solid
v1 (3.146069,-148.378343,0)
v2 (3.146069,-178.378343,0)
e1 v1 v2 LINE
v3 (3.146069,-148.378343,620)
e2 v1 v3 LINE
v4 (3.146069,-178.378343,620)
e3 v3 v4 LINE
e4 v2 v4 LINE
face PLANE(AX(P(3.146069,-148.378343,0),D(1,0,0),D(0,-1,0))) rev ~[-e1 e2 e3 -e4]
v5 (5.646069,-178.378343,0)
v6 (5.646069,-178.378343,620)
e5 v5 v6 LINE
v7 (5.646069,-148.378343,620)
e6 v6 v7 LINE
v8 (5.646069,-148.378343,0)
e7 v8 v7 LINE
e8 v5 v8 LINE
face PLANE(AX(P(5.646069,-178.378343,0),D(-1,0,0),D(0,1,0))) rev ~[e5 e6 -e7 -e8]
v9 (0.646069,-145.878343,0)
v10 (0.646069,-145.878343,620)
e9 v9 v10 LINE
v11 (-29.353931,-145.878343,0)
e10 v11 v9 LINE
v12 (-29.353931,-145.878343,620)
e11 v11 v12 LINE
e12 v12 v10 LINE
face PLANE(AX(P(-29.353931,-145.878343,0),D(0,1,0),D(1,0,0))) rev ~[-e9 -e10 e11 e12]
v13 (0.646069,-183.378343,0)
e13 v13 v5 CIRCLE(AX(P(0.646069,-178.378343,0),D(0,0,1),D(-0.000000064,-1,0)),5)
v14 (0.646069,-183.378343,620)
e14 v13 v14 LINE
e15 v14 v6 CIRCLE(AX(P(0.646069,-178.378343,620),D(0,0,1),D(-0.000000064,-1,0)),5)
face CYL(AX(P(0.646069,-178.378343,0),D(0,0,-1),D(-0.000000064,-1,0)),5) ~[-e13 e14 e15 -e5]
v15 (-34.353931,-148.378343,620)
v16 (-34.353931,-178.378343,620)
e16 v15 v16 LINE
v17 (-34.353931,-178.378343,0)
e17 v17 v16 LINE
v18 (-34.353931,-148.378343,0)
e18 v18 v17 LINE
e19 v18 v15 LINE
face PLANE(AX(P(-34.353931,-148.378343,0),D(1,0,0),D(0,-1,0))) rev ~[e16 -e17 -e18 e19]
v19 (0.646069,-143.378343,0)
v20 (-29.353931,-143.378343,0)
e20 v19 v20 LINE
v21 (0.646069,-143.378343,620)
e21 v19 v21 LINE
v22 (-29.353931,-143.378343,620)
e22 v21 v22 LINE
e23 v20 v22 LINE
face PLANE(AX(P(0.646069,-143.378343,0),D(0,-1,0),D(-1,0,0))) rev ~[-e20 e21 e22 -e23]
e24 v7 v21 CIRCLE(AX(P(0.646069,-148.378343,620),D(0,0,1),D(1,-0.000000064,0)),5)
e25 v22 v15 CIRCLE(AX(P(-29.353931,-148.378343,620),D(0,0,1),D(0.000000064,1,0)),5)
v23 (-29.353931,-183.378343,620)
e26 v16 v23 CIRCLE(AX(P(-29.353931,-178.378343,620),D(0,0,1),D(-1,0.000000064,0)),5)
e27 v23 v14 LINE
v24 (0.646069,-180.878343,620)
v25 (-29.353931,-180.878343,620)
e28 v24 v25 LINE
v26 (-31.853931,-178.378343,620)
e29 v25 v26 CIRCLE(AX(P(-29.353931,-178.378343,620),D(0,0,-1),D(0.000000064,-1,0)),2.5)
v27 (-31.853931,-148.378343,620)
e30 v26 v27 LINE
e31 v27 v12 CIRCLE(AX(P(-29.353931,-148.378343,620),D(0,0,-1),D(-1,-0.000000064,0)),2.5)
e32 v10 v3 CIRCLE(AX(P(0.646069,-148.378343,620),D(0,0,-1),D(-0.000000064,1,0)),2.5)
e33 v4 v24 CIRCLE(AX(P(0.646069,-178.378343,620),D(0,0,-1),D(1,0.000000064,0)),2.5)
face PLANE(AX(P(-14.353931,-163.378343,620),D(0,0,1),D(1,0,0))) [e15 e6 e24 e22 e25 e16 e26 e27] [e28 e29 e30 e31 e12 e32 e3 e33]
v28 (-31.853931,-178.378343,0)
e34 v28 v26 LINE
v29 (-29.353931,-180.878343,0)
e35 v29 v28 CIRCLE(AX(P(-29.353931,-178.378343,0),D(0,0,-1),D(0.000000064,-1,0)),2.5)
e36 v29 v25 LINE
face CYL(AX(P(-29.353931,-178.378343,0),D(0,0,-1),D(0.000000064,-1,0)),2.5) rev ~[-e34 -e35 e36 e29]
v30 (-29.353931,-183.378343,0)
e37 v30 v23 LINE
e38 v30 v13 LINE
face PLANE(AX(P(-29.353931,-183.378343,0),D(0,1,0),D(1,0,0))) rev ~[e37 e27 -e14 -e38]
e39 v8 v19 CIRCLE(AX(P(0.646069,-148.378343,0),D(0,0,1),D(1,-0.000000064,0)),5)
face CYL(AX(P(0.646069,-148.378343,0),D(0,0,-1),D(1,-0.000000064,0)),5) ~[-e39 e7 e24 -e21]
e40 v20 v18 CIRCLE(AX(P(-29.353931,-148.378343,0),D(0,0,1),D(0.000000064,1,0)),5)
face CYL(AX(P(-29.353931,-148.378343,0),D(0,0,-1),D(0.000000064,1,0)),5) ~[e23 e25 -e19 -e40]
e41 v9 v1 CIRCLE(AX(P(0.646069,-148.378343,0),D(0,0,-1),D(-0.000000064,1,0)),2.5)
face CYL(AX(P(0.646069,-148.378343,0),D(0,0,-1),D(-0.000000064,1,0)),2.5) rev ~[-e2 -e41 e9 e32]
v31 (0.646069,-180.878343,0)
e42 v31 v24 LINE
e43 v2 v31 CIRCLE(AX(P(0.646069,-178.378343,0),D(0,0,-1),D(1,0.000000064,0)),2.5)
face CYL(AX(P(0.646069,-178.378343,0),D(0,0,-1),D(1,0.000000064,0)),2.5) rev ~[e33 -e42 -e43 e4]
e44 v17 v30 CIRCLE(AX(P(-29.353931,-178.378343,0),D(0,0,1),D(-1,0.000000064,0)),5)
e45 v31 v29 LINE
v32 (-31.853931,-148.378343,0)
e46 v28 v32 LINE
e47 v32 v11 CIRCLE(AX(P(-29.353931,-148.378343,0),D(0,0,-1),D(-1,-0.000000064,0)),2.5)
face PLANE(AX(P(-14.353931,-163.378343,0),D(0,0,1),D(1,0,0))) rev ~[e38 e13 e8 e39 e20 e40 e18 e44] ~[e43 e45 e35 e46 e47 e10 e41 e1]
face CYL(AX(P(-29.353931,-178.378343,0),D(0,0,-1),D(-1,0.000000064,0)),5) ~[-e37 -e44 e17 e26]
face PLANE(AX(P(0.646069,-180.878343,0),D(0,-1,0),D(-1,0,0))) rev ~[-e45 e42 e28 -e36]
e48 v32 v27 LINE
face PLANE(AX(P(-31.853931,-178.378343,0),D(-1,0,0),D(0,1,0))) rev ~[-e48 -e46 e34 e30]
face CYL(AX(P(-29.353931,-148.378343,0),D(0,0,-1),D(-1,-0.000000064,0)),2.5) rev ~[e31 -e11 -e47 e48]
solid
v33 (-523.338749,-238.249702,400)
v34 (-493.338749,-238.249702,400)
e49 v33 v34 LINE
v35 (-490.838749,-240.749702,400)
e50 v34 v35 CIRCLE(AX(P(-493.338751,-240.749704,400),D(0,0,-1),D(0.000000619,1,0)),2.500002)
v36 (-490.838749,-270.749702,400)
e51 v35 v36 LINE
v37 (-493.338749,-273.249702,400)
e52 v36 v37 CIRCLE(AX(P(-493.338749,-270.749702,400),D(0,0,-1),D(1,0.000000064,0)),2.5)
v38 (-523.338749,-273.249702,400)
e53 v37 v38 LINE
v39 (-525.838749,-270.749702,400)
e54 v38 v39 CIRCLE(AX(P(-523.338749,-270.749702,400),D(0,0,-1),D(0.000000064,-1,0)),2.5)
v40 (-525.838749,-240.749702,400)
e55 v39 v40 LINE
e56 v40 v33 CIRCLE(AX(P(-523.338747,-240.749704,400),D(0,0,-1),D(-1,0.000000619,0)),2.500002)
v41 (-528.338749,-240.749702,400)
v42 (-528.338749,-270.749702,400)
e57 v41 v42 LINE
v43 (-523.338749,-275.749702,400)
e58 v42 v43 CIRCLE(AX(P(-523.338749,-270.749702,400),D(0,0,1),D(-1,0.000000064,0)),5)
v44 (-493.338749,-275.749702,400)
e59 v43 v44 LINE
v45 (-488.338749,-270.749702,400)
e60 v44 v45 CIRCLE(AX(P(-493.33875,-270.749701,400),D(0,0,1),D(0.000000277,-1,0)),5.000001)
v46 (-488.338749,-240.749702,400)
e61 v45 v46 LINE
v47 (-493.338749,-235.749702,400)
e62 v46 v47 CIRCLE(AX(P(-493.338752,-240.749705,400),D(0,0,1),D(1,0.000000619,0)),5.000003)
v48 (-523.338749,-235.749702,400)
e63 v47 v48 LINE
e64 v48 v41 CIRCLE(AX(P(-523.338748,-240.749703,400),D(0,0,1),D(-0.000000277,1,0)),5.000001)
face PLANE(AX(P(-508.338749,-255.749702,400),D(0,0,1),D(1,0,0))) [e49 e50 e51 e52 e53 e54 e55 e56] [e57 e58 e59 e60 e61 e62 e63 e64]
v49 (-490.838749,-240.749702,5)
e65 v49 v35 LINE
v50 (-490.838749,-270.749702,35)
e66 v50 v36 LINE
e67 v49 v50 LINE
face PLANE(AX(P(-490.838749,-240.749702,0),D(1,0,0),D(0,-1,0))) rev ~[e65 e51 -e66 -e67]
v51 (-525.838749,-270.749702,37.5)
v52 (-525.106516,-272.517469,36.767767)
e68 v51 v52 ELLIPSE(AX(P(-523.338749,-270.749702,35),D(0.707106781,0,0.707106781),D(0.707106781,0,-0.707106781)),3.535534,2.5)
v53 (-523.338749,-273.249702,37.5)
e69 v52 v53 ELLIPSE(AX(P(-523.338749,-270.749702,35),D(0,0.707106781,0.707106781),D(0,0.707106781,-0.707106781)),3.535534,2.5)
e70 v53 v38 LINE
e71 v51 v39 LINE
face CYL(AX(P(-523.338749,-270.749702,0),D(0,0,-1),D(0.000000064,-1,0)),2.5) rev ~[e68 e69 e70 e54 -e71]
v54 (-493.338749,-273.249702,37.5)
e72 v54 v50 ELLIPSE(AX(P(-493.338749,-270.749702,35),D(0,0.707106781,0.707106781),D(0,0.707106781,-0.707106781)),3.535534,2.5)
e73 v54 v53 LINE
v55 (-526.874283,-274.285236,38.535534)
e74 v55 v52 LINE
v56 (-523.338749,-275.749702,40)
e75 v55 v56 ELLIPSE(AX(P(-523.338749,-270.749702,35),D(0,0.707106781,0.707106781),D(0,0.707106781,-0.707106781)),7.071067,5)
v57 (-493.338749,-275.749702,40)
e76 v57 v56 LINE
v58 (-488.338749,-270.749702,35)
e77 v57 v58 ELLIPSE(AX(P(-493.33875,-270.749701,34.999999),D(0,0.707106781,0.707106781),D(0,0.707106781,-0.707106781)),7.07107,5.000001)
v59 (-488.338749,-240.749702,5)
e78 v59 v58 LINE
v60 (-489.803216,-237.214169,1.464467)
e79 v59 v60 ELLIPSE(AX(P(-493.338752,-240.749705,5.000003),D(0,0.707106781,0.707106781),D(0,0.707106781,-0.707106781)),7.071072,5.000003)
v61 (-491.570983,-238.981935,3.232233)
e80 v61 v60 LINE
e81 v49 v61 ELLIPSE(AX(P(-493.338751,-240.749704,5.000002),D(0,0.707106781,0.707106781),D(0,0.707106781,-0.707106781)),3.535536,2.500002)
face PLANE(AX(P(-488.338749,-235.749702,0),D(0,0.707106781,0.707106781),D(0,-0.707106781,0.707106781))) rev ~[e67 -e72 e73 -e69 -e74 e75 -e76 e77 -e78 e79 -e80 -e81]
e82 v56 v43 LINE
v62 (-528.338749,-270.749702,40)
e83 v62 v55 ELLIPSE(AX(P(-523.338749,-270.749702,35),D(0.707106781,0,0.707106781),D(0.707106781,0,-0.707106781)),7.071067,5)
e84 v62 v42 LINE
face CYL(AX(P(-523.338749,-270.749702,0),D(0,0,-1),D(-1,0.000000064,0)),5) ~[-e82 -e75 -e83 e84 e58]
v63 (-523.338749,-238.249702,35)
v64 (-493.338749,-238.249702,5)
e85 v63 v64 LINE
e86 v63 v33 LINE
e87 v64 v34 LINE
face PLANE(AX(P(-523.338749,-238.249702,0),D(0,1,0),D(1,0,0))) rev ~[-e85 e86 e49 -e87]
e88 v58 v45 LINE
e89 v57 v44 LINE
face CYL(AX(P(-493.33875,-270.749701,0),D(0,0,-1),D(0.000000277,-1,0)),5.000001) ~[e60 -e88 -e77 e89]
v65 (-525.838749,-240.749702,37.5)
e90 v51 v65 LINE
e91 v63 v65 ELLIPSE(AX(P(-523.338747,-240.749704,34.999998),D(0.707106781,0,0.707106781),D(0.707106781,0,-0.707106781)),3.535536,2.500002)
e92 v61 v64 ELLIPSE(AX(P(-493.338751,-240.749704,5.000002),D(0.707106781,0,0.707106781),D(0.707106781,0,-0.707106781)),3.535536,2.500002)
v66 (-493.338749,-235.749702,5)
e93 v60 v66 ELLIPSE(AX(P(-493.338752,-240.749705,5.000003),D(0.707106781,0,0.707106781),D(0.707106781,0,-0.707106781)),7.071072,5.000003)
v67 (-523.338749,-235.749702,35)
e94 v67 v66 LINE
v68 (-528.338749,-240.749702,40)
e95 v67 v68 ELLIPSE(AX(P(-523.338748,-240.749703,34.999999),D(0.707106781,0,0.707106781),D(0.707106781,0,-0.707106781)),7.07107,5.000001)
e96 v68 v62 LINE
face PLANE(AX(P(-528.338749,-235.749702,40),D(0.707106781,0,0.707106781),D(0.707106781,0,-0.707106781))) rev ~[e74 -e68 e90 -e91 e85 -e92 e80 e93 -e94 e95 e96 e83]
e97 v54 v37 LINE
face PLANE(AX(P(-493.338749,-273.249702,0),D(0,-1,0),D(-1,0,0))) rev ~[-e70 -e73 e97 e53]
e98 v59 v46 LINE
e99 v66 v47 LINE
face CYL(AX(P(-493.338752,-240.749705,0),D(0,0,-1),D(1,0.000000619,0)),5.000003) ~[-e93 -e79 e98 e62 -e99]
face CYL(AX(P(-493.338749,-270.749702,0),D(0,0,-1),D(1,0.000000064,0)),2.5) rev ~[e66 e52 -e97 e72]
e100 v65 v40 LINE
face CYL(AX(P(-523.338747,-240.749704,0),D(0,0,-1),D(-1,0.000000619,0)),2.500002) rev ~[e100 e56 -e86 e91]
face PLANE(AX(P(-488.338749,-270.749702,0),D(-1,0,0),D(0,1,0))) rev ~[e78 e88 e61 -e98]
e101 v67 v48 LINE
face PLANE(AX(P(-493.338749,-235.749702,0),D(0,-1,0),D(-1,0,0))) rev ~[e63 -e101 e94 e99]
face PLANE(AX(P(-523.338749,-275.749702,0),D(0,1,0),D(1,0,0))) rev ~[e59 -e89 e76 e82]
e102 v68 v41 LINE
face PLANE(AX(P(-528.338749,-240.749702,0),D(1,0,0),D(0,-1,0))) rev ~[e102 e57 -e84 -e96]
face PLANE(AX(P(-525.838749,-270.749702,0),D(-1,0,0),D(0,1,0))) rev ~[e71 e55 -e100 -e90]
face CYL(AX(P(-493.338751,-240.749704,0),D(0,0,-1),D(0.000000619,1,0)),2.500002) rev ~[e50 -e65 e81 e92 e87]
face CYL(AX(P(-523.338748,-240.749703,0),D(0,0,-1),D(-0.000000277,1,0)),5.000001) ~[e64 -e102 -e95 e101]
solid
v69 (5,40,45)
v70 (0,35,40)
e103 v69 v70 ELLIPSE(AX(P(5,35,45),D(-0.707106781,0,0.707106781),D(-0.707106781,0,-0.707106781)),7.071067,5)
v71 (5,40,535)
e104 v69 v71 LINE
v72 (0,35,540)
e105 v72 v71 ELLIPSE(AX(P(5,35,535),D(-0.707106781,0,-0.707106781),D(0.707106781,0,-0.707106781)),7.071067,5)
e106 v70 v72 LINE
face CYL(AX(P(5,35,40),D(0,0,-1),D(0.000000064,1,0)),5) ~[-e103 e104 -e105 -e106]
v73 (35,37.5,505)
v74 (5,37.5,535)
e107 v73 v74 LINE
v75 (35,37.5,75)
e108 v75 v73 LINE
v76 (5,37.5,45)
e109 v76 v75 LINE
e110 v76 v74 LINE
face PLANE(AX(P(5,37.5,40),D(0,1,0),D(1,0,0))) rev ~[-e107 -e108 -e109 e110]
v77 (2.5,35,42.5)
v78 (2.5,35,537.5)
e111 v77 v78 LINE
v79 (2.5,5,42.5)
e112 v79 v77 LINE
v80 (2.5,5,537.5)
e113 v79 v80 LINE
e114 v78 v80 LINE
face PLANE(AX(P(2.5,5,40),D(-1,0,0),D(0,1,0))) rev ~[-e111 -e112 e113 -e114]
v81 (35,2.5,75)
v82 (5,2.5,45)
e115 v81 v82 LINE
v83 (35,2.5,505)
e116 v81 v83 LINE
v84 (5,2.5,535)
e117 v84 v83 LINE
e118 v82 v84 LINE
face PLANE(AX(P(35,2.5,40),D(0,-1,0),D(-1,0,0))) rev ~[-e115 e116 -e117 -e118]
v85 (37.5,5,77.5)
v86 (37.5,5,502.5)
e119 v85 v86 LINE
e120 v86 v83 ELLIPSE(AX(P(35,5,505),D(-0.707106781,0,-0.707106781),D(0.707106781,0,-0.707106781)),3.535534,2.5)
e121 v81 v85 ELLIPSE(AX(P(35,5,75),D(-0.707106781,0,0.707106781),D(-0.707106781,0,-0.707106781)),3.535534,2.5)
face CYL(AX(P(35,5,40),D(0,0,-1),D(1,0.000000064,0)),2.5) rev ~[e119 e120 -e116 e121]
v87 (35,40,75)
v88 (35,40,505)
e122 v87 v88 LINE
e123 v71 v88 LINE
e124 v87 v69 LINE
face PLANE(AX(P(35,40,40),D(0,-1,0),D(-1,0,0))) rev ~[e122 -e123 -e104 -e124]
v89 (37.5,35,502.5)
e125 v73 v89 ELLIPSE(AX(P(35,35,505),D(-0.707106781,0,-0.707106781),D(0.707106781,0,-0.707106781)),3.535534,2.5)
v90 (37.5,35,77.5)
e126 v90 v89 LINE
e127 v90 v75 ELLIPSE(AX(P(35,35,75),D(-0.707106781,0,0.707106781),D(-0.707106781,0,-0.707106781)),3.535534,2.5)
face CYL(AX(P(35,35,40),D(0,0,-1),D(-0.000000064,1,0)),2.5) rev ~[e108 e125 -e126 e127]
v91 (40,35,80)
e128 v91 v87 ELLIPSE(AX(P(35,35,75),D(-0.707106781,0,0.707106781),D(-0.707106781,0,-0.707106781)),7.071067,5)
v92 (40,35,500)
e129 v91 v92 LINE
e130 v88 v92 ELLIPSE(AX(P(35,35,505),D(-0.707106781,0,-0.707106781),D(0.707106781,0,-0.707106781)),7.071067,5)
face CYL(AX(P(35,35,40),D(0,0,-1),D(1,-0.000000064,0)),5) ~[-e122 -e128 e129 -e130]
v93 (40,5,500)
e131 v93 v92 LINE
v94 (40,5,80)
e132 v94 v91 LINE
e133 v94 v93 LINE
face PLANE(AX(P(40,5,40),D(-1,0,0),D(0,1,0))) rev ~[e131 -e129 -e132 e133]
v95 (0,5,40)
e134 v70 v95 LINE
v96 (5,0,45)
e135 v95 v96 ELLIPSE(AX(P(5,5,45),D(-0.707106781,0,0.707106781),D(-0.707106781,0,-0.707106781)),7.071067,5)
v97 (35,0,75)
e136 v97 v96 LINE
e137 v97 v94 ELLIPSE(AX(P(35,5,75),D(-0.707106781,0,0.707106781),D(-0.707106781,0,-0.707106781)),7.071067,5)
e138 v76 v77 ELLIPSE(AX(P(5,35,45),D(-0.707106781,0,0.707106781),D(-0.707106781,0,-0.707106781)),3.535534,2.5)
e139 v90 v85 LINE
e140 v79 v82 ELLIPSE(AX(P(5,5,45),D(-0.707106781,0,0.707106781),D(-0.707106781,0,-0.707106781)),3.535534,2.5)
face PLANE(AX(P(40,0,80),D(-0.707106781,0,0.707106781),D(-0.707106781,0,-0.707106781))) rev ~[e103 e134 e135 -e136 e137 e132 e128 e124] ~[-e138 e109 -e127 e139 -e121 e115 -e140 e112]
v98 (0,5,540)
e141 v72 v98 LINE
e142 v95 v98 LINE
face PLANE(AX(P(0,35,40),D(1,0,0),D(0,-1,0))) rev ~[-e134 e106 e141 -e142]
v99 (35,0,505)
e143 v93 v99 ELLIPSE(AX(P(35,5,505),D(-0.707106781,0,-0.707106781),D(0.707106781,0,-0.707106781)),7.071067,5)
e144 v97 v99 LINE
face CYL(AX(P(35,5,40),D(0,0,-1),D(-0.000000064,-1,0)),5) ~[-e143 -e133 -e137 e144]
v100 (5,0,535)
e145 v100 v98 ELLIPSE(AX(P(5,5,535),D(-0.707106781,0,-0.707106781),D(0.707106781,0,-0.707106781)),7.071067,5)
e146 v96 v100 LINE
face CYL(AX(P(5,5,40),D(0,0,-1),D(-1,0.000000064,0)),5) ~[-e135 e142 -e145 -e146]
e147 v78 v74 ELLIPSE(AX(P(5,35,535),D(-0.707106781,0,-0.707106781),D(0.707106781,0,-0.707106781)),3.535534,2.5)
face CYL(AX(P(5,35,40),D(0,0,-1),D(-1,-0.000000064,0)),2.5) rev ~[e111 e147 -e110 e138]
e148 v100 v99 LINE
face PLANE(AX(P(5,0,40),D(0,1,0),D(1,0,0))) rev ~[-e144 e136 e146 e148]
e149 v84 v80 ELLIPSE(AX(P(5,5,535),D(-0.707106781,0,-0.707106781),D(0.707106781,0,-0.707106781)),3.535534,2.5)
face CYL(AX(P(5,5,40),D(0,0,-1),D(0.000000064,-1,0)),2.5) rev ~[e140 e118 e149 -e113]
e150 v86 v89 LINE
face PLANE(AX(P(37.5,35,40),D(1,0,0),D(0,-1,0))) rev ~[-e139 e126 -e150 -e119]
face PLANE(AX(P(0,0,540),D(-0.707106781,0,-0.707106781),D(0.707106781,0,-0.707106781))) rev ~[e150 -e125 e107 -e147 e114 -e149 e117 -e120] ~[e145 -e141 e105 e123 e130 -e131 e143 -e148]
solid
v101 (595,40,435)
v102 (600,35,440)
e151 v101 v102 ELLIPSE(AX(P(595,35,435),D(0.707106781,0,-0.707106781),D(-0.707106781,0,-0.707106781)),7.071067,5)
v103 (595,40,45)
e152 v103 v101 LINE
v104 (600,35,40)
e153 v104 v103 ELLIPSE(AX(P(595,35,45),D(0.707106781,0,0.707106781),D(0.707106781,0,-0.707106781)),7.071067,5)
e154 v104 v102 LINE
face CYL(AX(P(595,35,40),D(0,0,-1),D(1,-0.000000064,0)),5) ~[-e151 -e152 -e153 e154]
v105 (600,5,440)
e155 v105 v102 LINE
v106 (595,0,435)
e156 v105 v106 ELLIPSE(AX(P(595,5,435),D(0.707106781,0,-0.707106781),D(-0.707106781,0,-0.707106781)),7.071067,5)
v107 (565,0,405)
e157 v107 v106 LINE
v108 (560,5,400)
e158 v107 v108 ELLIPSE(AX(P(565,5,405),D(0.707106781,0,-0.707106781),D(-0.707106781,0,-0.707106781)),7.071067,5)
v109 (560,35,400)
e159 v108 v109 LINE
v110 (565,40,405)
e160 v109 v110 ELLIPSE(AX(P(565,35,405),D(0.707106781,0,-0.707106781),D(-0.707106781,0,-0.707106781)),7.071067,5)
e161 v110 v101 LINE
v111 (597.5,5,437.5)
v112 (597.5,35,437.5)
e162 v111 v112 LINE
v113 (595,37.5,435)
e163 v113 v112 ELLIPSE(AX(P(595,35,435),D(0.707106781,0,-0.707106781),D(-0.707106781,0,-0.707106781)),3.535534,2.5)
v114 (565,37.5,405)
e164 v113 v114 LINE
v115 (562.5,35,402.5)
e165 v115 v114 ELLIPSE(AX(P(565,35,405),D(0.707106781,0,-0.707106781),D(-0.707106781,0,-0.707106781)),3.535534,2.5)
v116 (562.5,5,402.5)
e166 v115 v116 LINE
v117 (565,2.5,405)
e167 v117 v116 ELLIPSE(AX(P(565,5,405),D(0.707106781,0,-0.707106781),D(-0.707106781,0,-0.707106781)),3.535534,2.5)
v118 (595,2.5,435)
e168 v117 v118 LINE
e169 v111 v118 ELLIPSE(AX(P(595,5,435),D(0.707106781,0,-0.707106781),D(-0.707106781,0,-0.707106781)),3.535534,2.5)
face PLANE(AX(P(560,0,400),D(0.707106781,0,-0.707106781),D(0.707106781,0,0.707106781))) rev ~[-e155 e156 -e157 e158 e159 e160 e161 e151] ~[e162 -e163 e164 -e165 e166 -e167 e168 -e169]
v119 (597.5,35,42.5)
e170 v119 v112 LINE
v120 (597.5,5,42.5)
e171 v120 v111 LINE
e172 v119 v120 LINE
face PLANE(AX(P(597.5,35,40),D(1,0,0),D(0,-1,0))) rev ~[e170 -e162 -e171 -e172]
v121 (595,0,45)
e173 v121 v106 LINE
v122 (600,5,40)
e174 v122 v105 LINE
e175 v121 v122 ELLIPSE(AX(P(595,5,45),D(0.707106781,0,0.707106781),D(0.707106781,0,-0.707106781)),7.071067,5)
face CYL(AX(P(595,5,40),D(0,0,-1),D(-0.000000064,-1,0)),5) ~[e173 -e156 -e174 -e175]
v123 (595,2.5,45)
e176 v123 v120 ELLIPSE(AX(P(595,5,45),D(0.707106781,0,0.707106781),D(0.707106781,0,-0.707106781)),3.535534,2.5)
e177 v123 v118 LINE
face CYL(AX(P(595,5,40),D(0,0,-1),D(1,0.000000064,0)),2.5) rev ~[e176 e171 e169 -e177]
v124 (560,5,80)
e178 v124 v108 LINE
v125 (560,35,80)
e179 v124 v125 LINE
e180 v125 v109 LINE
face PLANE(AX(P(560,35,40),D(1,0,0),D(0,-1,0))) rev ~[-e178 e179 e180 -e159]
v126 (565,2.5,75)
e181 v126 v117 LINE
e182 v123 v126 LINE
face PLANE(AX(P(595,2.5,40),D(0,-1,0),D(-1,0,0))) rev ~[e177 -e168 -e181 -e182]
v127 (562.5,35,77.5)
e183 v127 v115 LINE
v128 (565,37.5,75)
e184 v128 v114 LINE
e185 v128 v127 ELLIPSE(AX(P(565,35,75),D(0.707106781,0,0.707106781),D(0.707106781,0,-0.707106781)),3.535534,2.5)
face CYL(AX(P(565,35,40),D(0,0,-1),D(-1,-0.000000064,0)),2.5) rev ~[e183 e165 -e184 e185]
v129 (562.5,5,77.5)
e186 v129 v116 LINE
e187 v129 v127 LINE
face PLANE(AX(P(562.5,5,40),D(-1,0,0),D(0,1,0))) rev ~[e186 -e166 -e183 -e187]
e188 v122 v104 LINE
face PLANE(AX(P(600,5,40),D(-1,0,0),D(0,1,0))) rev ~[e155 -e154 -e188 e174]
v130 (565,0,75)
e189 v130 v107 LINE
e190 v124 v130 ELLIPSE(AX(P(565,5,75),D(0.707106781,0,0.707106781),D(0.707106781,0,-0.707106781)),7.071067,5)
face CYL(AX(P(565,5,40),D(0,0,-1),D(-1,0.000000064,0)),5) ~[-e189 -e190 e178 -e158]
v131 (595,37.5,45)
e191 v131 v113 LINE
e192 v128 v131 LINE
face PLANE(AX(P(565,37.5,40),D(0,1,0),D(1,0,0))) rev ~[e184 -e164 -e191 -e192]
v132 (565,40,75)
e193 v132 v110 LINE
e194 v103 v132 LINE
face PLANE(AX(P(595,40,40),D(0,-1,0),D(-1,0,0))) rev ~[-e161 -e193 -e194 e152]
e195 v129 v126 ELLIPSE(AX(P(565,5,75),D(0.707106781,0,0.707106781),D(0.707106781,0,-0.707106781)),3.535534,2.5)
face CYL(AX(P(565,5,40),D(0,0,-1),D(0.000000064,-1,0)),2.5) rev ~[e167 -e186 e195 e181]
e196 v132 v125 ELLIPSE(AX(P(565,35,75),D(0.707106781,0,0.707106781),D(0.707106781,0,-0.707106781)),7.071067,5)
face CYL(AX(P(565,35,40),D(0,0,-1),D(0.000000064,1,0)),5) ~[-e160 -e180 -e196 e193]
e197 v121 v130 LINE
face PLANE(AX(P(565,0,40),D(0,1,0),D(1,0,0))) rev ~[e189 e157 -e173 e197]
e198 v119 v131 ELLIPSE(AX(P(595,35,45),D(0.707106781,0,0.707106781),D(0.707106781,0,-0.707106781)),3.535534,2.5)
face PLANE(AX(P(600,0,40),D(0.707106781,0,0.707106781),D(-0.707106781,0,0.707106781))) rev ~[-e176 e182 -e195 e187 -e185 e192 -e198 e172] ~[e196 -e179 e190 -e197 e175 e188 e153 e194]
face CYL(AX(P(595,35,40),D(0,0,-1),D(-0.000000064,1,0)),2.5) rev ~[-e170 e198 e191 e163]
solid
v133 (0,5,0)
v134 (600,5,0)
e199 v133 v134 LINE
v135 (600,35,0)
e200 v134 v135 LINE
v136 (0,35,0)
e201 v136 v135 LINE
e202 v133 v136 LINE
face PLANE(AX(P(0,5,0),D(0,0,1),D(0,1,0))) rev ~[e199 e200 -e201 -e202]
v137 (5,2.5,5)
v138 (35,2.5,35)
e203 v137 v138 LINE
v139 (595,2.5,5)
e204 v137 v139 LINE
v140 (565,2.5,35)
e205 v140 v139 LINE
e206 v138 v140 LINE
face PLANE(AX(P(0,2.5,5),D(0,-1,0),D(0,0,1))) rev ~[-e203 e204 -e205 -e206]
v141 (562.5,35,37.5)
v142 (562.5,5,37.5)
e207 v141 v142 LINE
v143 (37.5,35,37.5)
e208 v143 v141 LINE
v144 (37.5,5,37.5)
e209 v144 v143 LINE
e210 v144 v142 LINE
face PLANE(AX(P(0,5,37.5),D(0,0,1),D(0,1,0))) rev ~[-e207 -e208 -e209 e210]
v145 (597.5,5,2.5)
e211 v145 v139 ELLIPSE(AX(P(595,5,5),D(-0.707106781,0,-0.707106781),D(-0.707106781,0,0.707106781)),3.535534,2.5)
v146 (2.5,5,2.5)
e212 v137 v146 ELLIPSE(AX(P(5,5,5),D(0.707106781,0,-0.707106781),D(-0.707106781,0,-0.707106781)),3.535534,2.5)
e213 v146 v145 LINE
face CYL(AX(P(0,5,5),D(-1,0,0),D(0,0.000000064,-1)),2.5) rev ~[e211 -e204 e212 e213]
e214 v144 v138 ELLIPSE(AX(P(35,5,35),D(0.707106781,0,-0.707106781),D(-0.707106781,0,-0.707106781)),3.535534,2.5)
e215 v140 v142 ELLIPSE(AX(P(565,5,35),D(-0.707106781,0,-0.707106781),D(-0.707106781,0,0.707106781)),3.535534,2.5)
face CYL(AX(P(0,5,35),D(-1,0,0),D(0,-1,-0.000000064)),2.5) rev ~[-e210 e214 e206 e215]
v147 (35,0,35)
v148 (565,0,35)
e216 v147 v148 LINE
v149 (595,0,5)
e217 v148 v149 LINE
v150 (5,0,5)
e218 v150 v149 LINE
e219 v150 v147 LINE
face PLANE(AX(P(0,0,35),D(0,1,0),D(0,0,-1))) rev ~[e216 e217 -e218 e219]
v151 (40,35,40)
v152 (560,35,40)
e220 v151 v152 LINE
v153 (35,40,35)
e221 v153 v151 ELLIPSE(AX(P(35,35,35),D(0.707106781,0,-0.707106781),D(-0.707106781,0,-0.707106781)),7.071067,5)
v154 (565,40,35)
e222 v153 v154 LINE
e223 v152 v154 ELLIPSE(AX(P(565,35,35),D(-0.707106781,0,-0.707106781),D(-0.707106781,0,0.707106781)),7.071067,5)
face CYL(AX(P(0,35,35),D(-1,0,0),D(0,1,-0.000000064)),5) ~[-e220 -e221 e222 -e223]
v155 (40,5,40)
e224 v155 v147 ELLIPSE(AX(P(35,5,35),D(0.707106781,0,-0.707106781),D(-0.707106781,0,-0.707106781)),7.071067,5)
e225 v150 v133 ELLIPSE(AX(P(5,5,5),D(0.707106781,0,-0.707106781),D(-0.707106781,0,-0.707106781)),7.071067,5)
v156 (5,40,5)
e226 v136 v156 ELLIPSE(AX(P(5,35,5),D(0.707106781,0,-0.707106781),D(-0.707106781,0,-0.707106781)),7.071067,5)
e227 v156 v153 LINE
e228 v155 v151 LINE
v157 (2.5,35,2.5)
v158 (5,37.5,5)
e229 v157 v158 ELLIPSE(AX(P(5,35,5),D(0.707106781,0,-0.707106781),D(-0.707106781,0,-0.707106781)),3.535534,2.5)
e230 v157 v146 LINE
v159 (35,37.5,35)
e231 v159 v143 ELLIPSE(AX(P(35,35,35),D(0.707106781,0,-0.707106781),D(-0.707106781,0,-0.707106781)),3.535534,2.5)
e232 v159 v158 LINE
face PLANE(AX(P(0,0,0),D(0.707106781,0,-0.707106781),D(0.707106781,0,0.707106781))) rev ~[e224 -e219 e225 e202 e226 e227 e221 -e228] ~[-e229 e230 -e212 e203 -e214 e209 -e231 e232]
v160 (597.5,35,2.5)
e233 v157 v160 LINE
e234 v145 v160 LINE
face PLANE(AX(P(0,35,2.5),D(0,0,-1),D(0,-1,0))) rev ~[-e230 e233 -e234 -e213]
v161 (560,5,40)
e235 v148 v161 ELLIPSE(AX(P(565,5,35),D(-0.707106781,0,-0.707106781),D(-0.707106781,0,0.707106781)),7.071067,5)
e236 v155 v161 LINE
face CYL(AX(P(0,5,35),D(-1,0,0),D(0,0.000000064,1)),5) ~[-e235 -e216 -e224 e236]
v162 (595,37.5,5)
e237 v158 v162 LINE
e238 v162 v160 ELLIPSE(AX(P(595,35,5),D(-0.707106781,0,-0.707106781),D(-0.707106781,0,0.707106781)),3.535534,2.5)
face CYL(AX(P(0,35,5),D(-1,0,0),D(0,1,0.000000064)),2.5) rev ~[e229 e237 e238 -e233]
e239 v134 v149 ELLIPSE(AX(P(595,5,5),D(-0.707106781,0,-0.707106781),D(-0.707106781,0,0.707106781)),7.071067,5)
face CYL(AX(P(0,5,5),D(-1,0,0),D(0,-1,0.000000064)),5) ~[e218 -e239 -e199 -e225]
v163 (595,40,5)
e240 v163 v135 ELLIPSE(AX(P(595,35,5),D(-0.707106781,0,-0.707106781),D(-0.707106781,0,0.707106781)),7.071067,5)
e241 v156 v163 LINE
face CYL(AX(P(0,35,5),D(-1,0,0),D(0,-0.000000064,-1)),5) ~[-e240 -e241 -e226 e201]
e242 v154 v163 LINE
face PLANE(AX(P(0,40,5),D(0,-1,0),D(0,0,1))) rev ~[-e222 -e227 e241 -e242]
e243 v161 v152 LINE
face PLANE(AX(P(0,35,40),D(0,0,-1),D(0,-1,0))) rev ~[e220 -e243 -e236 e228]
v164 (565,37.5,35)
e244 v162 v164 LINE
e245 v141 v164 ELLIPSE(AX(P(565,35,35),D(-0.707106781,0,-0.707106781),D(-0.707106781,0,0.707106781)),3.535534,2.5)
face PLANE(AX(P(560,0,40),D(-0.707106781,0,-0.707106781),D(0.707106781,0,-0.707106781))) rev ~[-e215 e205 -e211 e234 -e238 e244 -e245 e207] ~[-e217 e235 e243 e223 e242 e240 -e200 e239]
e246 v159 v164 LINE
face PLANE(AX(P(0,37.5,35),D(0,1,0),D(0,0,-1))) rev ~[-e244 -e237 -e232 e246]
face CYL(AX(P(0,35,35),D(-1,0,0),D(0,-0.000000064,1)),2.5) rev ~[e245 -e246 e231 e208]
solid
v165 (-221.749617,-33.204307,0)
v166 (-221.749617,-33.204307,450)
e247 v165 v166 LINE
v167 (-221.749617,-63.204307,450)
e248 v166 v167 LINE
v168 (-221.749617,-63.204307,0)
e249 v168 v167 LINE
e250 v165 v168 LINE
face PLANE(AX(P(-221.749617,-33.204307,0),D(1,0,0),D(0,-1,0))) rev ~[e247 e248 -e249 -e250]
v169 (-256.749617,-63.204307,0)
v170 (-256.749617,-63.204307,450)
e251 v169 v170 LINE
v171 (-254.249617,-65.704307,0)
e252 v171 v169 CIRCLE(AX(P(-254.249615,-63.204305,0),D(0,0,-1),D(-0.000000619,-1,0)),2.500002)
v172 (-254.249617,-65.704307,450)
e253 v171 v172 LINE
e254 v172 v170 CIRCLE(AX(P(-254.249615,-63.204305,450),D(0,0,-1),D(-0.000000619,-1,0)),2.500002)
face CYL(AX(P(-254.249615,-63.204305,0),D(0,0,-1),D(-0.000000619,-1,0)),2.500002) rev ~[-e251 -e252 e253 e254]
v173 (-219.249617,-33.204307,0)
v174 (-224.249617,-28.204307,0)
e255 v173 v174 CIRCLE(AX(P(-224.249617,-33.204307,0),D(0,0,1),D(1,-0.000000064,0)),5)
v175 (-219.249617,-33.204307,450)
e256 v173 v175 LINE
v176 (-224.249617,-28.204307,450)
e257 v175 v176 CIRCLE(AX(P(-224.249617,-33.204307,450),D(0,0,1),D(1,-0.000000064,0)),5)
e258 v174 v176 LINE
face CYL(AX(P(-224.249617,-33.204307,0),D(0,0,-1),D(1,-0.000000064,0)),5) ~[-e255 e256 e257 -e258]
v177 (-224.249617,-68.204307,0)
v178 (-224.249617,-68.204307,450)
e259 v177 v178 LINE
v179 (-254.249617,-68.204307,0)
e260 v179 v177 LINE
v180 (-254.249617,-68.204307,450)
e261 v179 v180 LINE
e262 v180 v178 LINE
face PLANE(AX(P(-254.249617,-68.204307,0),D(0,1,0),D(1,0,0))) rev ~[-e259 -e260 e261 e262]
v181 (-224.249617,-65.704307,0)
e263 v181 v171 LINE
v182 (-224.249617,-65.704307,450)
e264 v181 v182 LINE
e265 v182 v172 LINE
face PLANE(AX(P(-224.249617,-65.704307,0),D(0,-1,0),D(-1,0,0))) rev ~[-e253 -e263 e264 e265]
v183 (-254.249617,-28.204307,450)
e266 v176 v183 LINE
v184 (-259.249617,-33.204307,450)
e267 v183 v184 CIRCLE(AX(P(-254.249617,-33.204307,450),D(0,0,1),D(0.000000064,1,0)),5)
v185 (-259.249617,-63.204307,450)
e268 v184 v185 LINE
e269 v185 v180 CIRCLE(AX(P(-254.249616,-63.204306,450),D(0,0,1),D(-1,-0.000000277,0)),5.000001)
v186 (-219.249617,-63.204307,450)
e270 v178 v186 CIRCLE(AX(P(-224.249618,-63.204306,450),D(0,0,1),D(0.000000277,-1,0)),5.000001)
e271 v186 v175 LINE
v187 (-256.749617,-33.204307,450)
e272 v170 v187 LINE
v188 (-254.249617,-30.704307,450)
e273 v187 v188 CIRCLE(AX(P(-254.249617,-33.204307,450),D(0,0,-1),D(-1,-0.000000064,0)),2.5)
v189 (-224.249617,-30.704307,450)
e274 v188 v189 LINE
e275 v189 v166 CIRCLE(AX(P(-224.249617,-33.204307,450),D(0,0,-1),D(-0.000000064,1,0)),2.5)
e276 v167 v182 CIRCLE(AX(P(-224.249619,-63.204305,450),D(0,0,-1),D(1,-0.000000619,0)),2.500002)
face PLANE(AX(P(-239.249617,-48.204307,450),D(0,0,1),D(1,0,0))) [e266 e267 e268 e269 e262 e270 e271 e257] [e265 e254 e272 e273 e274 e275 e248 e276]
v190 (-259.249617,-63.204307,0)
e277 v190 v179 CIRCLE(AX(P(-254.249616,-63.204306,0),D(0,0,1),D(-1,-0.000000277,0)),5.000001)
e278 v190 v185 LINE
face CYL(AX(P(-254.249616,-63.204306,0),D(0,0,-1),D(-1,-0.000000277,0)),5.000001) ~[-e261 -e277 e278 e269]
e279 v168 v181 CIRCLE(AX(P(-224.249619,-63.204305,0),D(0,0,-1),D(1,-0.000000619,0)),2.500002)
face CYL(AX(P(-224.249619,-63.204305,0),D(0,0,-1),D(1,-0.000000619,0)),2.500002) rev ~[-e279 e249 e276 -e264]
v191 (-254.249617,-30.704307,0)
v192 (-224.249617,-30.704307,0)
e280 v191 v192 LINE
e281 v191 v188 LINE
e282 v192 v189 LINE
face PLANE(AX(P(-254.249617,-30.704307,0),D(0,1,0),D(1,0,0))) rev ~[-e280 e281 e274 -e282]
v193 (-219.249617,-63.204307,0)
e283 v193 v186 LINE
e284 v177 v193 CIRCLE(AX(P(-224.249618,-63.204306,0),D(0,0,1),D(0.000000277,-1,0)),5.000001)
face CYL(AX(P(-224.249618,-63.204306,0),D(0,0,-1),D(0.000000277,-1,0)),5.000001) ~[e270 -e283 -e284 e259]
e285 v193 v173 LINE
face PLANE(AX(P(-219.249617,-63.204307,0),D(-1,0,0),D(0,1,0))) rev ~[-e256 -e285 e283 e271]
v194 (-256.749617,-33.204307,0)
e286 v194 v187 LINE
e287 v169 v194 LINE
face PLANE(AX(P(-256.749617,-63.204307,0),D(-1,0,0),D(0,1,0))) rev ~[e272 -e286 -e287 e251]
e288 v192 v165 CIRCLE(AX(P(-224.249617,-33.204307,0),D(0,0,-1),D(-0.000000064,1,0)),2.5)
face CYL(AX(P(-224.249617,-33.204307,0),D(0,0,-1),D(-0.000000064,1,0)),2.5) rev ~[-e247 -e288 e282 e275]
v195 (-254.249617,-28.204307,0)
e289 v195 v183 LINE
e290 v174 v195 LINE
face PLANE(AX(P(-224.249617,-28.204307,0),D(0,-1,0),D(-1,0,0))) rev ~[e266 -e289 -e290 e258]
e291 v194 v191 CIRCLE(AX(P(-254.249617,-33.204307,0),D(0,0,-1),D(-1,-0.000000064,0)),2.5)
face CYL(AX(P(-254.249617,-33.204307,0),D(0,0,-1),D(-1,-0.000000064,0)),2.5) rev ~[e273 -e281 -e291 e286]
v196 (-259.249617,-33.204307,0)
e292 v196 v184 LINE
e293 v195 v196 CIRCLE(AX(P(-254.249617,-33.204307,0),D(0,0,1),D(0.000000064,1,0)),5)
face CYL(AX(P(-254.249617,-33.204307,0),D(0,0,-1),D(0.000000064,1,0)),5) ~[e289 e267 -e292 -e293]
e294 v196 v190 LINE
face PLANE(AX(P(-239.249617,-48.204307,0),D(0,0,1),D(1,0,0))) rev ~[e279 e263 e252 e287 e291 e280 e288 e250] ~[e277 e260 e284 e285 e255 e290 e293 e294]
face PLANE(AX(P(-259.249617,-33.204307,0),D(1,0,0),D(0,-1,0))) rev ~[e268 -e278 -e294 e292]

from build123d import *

# Parameters (mm, degrees)
F1_DEPTH  = 600
F3_DEPTH  = 40.001
F5_DEPTH  = 500
F7_DEPTH  = 40.001
F9_DEPTH  = 400
F11_DEPTH = 40.001
F13_DEPTH = 620
F15_DEPTH = 450
F17_DEPTH = 400
F20_DEPTH = 40.001
F21_DEPTH = 40.001


with BuildPart() as f1:
    # F0 (on Right) → F1 (new body)
    with BuildSketch(Plane.YZ):
        with BuildLine():
            ThreePointArc((0, 5), (1.464466, 1.464466), (5, 0))
            Line((5, 0), (35, 0))
            ThreePointArc((35, 0), (38.535534, 1.464466), (40, 5))
            Line((40, 5), (40, 35))
            ThreePointArc((40, 35), (38.535534, 38.535534), (35, 40))
            Line((35, 40), (5, 40))
            ThreePointArc((5, 40), (1.464466, 38.535534), (0, 35))
            Line((0, 35), (0, 5))
        make_face()
        with BuildLine():
            ThreePointArc((37.5, 5), (36.767767, 3.232233), (35, 2.5))
            Line((35, 2.5), (5, 2.5))
            ThreePointArc((5, 2.5), (3.232233, 3.232233), (2.5, 5))
            Line((2.5, 5), (2.5, 35))
            ThreePointArc((2.5, 35), (3.232233, 36.767767), (5, 37.5))
            Line((5, 37.5), (35, 37.5))
            ThreePointArc((35, 37.5), (36.767767, 36.767767), (37.5, 35))
            Line((37.5, 35), (37.5, 5))
        make_face(mode=Mode.SUBTRACT)
    extrude(amount=F1_DEPTH)

    # F2 (on face) → F3 (cut, through all)
    with BuildSketch(Plane.XZ):
        Polygon((0, 40), (0, 0), (40, 40), align=None)
        Polygon((560, 40), (600, 0), (600, 40), align=None)
    extrude(amount=-F3_DEPTH, mode=Mode.SUBTRACT)


with BuildPart() as f5:
    # F4 (on face) → F5 (new body)
    with BuildSketch(Plane.XY.offset(40)):
        with BuildLine():
            ThreePointArc((0, 5), (1.464466, 1.464466), (5, 0))
            Line((5, 0), (35, 0))
            ThreePointArc((35, 0), (38.535534, 1.464466), (40, 5))
            Line((40, 5), (40, 35))
            ThreePointArc((40, 35), (38.535534, 38.535534), (35, 40))
            Line((35, 40), (5, 40))
            ThreePointArc((5, 40), (1.464466, 38.535534), (0, 35))
            Line((0, 35), (0, 5))
        make_face()
        with BuildLine():
            ThreePointArc((37.5, 5), (36.767767, 3.232233), (35, 2.5))
            Line((35, 2.5), (5, 2.5))
            ThreePointArc((5, 2.5), (3.232233, 3.232233), (2.5, 5))
            Line((2.5, 5), (2.5, 35))
            ThreePointArc((2.5, 35), (3.232233, 36.767767), (5, 37.5))
            Line((5, 37.5), (35, 37.5))
            ThreePointArc((35, 37.5), (36.767767, 36.767767), (37.5, 35))
            Line((37.5, 35), (37.5, 5))
        make_face(mode=Mode.SUBTRACT)
    extrude(amount=F5_DEPTH)

    # F6 (on face) → F7 (cut, through all)
    with BuildSketch(Plane.XZ):
        Polygon((40, 80), (0, 40), (40, 40), align=None)
        Polygon((40, 500), (40, 540), (0, 540), align=None)
    extrude(amount=-F7_DEPTH, mode=Mode.SUBTRACT)


with BuildPart() as f9:
    # F8 (on face) → F9 (new body)
    with BuildSketch(Plane.XY.offset(40)):
        with BuildLine():
            ThreePointArc((560, 5), (561.464466, 1.464466), (565, 0))
            Line((565, 0), (595, 0))
            ThreePointArc((595, 0), (598.535534, 1.464466), (600, 5))
            Line((600, 5), (600, 35))
            ThreePointArc((600, 35), (598.535534, 38.535534), (595, 40))
            Line((595, 40), (565, 40))
            ThreePointArc((565, 40), (561.464466, 38.535534), (560, 35))
            Line((560, 35), (560, 5))
        make_face()
        with BuildLine():
            ThreePointArc((597.5, 5), (596.767767, 3.232233), (595, 2.5))
            Line((595, 2.5), (565, 2.5))
            ThreePointArc((565, 2.5), (563.232233, 3.232233), (562.5, 5))
            Line((562.5, 5), (562.5, 35))
            ThreePointArc((562.5, 35), (563.232233, 36.767767), (565, 37.5))
            Line((565, 37.5), (595, 37.5))
            ThreePointArc((595, 37.5), (596.767767, 36.767767), (597.5, 35))
            Line((597.5, 35), (597.5, 5))
        make_face(mode=Mode.SUBTRACT)
    extrude(amount=F9_DEPTH)

    # F10 (on face) → F11 (cut, through all)
    with BuildSketch(Plane.XZ):
        Polygon((560, 400), (600, 440), (560, 440), align=None)
        Polygon((600, 40), (560, 80), (560, 40), align=None)
    extrude(amount=-F11_DEPTH, mode=Mode.SUBTRACT)


with BuildPart() as f13:
    # F12 (on Top) → F13 (new body)
    with BuildSketch(Plane.XY):
        with BuildLine():
            ThreePointArc((-34.353931, -178.378343), (-32.889465, -181.913877), (-29.353931, -183.378343))
            Line((-29.353931, -183.378343), (0.646069, -183.378343))
            ThreePointArc((0.646069, -183.378343), (4.181603, -181.913877), (5.646069, -178.378343))
            Line((5.646069, -178.378343), (5.646069, -148.378343))
            ThreePointArc((5.646069, -148.378343), (4.181603, -144.842809), (0.646069, -143.378343))
            Line((0.646069, -143.378343), (-29.353931, -143.378343))
            ThreePointArc((-29.353931, -143.378343), (-32.889465, -144.842809), (-34.353931, -148.378343))
            Line((-34.353931, -148.378343), (-34.353931, -178.378343))
        make_face()
        with BuildLine():
            ThreePointArc((3.146069, -178.378343), (2.413836, -180.14611), (0.646069, -180.878343))
            Line((0.646069, -180.878343), (-29.353931, -180.878343))
            ThreePointArc((-29.353931, -180.878343), (-31.121698, -180.14611), (-31.853931, -178.378343))
            Line((-31.853931, -178.378343), (-31.853931, -148.378343))
            ThreePointArc((-31.853931, -148.378343), (-31.121698, -146.610576), (-29.353931, -145.878343))
            Line((-29.353931, -145.878343), (0.646069, -145.878343))
            ThreePointArc((0.646069, -145.878343), (2.413836, -146.610576), (3.146069, -148.378343))
            Line((3.146069, -148.378343), (3.146069, -178.378343))
        make_face(mode=Mode.SUBTRACT)
    extrude(amount=F13_DEPTH)


with BuildPart() as f15:
    # F14 (on Top) → F15 (new body)
    with BuildSketch(Plane.XY):
        with BuildLine():
            ThreePointArc((-259.249617, -63.204307), (-257.785151, -66.73984), (-254.249617, -68.204307))
            Line((-254.249617, -68.204307), (-224.249617, -68.204307))
            ThreePointArc((-224.249617, -68.204307), (-220.714083, -66.73984), (-219.249617, -63.204307))
            Line((-219.249617, -63.204307), (-219.249617, -33.204307))
            ThreePointArc((-219.249617, -33.204307), (-220.714083, -29.668773), (-224.249617, -28.204307))
            Line((-224.249617, -28.204307), (-254.249617, -28.204307))
            ThreePointArc((-254.249617, -28.204307), (-257.785151, -29.668773), (-259.249617, -33.204307))
            Line((-259.249617, -33.204307), (-259.249617, -63.204307))
        make_face()
        with BuildLine():
            ThreePointArc((-221.749617, -63.204307), (-222.48185, -64.972073), (-224.249617, -65.704307))
            Line((-224.249617, -65.704307), (-254.249617, -65.704307))
            ThreePointArc((-254.249617, -65.704307), (-256.017384, -64.972073), (-256.749617, -63.204307))
            Line((-256.749617, -63.204307), (-256.749617, -33.204307))
            ThreePointArc((-256.749617, -33.204307), (-256.017384, -31.43654), (-254.249617, -30.704307))
            Line((-254.249617, -30.704307), (-224.249617, -30.704307))
            ThreePointArc((-224.249617, -30.704307), (-222.48185, -31.43654), (-221.749617, -33.204307))
            Line((-221.749617, -33.204307), (-221.749617, -63.204307))
        make_face(mode=Mode.SUBTRACT)
    extrude(amount=F15_DEPTH)


with BuildPart() as f17:
    # F16 (on Top) → F17 (new body)
    with BuildSketch(Plane.XY):
        with BuildLine():
            ThreePointArc((-528.338749, -270.749702), (-526.874283, -274.285236), (-523.338749, -275.749702))
            Line((-523.338749, -275.749702), (-493.338749, -275.749702))
            ThreePointArc((-493.338749, -275.749702), (-489.803216, -274.285236), (-488.338749, -270.749702))
            Line((-488.338749, -270.749702), (-488.338749, -240.749702))
            ThreePointArc((-488.338749, -240.749702), (-489.803216, -237.214169), (-493.338749, -235.749702))
            Line((-493.338749, -235.749702), (-523.338749, -235.749702))
            ThreePointArc((-523.338749, -235.749702), (-526.874283, -237.214169), (-528.338749, -240.749702))
            Line((-528.338749, -240.749702), (-528.338749, -270.749702))
        make_face()
        with BuildLine():
            ThreePointArc((-490.838749, -270.749702), (-491.570982, -272.517469), (-493.338749, -273.249702))
            Line((-493.338749, -273.249702), (-523.338749, -273.249702))
            ThreePointArc((-523.338749, -273.249702), (-525.106516, -272.517469), (-525.838749, -270.749702))
            Line((-525.838749, -270.749702), (-525.838749, -240.749702))
            ThreePointArc((-525.838749, -240.749702), (-525.106516, -238.981936), (-523.338749, -238.249702))
            Line((-523.338749, -238.249702), (-493.338749, -238.249702))
            ThreePointArc((-493.338749, -238.249702), (-491.570982, -238.981936), (-490.838749, -240.749702))
            Line((-490.838749, -240.749702), (-490.838749, -270.749702))
        make_face(mode=Mode.SUBTRACT)
    extrude(amount=F17_DEPTH)

    # F18 (on face) → F20 (cut, through all)
    with BuildSketch(Plane.YZ.offset(-488.338749)):
        Polygon((-275.749702, 0), (-235.749702, 0), (-275.749702, 40), align=None)
    extrude(amount=-F20_DEPTH, mode=Mode.SUBTRACT)

    # F19 (on face) → F21 (cut, through all)
    with BuildSketch(Plane(origin=(0, -235.749702, 0), x_dir=(-1, 0, 0), z_dir=(0, 1, 0))):
        Polygon((528.338749, 0), (528.338749, 40), (488.338749, 0), align=None)
    extrude(amount=-F21_DEPTH, mode=Mode.SUBTRACT)


solid = Compound([f1.part, f5.part, f9.part, f13.part, f15.part, f17.part])
